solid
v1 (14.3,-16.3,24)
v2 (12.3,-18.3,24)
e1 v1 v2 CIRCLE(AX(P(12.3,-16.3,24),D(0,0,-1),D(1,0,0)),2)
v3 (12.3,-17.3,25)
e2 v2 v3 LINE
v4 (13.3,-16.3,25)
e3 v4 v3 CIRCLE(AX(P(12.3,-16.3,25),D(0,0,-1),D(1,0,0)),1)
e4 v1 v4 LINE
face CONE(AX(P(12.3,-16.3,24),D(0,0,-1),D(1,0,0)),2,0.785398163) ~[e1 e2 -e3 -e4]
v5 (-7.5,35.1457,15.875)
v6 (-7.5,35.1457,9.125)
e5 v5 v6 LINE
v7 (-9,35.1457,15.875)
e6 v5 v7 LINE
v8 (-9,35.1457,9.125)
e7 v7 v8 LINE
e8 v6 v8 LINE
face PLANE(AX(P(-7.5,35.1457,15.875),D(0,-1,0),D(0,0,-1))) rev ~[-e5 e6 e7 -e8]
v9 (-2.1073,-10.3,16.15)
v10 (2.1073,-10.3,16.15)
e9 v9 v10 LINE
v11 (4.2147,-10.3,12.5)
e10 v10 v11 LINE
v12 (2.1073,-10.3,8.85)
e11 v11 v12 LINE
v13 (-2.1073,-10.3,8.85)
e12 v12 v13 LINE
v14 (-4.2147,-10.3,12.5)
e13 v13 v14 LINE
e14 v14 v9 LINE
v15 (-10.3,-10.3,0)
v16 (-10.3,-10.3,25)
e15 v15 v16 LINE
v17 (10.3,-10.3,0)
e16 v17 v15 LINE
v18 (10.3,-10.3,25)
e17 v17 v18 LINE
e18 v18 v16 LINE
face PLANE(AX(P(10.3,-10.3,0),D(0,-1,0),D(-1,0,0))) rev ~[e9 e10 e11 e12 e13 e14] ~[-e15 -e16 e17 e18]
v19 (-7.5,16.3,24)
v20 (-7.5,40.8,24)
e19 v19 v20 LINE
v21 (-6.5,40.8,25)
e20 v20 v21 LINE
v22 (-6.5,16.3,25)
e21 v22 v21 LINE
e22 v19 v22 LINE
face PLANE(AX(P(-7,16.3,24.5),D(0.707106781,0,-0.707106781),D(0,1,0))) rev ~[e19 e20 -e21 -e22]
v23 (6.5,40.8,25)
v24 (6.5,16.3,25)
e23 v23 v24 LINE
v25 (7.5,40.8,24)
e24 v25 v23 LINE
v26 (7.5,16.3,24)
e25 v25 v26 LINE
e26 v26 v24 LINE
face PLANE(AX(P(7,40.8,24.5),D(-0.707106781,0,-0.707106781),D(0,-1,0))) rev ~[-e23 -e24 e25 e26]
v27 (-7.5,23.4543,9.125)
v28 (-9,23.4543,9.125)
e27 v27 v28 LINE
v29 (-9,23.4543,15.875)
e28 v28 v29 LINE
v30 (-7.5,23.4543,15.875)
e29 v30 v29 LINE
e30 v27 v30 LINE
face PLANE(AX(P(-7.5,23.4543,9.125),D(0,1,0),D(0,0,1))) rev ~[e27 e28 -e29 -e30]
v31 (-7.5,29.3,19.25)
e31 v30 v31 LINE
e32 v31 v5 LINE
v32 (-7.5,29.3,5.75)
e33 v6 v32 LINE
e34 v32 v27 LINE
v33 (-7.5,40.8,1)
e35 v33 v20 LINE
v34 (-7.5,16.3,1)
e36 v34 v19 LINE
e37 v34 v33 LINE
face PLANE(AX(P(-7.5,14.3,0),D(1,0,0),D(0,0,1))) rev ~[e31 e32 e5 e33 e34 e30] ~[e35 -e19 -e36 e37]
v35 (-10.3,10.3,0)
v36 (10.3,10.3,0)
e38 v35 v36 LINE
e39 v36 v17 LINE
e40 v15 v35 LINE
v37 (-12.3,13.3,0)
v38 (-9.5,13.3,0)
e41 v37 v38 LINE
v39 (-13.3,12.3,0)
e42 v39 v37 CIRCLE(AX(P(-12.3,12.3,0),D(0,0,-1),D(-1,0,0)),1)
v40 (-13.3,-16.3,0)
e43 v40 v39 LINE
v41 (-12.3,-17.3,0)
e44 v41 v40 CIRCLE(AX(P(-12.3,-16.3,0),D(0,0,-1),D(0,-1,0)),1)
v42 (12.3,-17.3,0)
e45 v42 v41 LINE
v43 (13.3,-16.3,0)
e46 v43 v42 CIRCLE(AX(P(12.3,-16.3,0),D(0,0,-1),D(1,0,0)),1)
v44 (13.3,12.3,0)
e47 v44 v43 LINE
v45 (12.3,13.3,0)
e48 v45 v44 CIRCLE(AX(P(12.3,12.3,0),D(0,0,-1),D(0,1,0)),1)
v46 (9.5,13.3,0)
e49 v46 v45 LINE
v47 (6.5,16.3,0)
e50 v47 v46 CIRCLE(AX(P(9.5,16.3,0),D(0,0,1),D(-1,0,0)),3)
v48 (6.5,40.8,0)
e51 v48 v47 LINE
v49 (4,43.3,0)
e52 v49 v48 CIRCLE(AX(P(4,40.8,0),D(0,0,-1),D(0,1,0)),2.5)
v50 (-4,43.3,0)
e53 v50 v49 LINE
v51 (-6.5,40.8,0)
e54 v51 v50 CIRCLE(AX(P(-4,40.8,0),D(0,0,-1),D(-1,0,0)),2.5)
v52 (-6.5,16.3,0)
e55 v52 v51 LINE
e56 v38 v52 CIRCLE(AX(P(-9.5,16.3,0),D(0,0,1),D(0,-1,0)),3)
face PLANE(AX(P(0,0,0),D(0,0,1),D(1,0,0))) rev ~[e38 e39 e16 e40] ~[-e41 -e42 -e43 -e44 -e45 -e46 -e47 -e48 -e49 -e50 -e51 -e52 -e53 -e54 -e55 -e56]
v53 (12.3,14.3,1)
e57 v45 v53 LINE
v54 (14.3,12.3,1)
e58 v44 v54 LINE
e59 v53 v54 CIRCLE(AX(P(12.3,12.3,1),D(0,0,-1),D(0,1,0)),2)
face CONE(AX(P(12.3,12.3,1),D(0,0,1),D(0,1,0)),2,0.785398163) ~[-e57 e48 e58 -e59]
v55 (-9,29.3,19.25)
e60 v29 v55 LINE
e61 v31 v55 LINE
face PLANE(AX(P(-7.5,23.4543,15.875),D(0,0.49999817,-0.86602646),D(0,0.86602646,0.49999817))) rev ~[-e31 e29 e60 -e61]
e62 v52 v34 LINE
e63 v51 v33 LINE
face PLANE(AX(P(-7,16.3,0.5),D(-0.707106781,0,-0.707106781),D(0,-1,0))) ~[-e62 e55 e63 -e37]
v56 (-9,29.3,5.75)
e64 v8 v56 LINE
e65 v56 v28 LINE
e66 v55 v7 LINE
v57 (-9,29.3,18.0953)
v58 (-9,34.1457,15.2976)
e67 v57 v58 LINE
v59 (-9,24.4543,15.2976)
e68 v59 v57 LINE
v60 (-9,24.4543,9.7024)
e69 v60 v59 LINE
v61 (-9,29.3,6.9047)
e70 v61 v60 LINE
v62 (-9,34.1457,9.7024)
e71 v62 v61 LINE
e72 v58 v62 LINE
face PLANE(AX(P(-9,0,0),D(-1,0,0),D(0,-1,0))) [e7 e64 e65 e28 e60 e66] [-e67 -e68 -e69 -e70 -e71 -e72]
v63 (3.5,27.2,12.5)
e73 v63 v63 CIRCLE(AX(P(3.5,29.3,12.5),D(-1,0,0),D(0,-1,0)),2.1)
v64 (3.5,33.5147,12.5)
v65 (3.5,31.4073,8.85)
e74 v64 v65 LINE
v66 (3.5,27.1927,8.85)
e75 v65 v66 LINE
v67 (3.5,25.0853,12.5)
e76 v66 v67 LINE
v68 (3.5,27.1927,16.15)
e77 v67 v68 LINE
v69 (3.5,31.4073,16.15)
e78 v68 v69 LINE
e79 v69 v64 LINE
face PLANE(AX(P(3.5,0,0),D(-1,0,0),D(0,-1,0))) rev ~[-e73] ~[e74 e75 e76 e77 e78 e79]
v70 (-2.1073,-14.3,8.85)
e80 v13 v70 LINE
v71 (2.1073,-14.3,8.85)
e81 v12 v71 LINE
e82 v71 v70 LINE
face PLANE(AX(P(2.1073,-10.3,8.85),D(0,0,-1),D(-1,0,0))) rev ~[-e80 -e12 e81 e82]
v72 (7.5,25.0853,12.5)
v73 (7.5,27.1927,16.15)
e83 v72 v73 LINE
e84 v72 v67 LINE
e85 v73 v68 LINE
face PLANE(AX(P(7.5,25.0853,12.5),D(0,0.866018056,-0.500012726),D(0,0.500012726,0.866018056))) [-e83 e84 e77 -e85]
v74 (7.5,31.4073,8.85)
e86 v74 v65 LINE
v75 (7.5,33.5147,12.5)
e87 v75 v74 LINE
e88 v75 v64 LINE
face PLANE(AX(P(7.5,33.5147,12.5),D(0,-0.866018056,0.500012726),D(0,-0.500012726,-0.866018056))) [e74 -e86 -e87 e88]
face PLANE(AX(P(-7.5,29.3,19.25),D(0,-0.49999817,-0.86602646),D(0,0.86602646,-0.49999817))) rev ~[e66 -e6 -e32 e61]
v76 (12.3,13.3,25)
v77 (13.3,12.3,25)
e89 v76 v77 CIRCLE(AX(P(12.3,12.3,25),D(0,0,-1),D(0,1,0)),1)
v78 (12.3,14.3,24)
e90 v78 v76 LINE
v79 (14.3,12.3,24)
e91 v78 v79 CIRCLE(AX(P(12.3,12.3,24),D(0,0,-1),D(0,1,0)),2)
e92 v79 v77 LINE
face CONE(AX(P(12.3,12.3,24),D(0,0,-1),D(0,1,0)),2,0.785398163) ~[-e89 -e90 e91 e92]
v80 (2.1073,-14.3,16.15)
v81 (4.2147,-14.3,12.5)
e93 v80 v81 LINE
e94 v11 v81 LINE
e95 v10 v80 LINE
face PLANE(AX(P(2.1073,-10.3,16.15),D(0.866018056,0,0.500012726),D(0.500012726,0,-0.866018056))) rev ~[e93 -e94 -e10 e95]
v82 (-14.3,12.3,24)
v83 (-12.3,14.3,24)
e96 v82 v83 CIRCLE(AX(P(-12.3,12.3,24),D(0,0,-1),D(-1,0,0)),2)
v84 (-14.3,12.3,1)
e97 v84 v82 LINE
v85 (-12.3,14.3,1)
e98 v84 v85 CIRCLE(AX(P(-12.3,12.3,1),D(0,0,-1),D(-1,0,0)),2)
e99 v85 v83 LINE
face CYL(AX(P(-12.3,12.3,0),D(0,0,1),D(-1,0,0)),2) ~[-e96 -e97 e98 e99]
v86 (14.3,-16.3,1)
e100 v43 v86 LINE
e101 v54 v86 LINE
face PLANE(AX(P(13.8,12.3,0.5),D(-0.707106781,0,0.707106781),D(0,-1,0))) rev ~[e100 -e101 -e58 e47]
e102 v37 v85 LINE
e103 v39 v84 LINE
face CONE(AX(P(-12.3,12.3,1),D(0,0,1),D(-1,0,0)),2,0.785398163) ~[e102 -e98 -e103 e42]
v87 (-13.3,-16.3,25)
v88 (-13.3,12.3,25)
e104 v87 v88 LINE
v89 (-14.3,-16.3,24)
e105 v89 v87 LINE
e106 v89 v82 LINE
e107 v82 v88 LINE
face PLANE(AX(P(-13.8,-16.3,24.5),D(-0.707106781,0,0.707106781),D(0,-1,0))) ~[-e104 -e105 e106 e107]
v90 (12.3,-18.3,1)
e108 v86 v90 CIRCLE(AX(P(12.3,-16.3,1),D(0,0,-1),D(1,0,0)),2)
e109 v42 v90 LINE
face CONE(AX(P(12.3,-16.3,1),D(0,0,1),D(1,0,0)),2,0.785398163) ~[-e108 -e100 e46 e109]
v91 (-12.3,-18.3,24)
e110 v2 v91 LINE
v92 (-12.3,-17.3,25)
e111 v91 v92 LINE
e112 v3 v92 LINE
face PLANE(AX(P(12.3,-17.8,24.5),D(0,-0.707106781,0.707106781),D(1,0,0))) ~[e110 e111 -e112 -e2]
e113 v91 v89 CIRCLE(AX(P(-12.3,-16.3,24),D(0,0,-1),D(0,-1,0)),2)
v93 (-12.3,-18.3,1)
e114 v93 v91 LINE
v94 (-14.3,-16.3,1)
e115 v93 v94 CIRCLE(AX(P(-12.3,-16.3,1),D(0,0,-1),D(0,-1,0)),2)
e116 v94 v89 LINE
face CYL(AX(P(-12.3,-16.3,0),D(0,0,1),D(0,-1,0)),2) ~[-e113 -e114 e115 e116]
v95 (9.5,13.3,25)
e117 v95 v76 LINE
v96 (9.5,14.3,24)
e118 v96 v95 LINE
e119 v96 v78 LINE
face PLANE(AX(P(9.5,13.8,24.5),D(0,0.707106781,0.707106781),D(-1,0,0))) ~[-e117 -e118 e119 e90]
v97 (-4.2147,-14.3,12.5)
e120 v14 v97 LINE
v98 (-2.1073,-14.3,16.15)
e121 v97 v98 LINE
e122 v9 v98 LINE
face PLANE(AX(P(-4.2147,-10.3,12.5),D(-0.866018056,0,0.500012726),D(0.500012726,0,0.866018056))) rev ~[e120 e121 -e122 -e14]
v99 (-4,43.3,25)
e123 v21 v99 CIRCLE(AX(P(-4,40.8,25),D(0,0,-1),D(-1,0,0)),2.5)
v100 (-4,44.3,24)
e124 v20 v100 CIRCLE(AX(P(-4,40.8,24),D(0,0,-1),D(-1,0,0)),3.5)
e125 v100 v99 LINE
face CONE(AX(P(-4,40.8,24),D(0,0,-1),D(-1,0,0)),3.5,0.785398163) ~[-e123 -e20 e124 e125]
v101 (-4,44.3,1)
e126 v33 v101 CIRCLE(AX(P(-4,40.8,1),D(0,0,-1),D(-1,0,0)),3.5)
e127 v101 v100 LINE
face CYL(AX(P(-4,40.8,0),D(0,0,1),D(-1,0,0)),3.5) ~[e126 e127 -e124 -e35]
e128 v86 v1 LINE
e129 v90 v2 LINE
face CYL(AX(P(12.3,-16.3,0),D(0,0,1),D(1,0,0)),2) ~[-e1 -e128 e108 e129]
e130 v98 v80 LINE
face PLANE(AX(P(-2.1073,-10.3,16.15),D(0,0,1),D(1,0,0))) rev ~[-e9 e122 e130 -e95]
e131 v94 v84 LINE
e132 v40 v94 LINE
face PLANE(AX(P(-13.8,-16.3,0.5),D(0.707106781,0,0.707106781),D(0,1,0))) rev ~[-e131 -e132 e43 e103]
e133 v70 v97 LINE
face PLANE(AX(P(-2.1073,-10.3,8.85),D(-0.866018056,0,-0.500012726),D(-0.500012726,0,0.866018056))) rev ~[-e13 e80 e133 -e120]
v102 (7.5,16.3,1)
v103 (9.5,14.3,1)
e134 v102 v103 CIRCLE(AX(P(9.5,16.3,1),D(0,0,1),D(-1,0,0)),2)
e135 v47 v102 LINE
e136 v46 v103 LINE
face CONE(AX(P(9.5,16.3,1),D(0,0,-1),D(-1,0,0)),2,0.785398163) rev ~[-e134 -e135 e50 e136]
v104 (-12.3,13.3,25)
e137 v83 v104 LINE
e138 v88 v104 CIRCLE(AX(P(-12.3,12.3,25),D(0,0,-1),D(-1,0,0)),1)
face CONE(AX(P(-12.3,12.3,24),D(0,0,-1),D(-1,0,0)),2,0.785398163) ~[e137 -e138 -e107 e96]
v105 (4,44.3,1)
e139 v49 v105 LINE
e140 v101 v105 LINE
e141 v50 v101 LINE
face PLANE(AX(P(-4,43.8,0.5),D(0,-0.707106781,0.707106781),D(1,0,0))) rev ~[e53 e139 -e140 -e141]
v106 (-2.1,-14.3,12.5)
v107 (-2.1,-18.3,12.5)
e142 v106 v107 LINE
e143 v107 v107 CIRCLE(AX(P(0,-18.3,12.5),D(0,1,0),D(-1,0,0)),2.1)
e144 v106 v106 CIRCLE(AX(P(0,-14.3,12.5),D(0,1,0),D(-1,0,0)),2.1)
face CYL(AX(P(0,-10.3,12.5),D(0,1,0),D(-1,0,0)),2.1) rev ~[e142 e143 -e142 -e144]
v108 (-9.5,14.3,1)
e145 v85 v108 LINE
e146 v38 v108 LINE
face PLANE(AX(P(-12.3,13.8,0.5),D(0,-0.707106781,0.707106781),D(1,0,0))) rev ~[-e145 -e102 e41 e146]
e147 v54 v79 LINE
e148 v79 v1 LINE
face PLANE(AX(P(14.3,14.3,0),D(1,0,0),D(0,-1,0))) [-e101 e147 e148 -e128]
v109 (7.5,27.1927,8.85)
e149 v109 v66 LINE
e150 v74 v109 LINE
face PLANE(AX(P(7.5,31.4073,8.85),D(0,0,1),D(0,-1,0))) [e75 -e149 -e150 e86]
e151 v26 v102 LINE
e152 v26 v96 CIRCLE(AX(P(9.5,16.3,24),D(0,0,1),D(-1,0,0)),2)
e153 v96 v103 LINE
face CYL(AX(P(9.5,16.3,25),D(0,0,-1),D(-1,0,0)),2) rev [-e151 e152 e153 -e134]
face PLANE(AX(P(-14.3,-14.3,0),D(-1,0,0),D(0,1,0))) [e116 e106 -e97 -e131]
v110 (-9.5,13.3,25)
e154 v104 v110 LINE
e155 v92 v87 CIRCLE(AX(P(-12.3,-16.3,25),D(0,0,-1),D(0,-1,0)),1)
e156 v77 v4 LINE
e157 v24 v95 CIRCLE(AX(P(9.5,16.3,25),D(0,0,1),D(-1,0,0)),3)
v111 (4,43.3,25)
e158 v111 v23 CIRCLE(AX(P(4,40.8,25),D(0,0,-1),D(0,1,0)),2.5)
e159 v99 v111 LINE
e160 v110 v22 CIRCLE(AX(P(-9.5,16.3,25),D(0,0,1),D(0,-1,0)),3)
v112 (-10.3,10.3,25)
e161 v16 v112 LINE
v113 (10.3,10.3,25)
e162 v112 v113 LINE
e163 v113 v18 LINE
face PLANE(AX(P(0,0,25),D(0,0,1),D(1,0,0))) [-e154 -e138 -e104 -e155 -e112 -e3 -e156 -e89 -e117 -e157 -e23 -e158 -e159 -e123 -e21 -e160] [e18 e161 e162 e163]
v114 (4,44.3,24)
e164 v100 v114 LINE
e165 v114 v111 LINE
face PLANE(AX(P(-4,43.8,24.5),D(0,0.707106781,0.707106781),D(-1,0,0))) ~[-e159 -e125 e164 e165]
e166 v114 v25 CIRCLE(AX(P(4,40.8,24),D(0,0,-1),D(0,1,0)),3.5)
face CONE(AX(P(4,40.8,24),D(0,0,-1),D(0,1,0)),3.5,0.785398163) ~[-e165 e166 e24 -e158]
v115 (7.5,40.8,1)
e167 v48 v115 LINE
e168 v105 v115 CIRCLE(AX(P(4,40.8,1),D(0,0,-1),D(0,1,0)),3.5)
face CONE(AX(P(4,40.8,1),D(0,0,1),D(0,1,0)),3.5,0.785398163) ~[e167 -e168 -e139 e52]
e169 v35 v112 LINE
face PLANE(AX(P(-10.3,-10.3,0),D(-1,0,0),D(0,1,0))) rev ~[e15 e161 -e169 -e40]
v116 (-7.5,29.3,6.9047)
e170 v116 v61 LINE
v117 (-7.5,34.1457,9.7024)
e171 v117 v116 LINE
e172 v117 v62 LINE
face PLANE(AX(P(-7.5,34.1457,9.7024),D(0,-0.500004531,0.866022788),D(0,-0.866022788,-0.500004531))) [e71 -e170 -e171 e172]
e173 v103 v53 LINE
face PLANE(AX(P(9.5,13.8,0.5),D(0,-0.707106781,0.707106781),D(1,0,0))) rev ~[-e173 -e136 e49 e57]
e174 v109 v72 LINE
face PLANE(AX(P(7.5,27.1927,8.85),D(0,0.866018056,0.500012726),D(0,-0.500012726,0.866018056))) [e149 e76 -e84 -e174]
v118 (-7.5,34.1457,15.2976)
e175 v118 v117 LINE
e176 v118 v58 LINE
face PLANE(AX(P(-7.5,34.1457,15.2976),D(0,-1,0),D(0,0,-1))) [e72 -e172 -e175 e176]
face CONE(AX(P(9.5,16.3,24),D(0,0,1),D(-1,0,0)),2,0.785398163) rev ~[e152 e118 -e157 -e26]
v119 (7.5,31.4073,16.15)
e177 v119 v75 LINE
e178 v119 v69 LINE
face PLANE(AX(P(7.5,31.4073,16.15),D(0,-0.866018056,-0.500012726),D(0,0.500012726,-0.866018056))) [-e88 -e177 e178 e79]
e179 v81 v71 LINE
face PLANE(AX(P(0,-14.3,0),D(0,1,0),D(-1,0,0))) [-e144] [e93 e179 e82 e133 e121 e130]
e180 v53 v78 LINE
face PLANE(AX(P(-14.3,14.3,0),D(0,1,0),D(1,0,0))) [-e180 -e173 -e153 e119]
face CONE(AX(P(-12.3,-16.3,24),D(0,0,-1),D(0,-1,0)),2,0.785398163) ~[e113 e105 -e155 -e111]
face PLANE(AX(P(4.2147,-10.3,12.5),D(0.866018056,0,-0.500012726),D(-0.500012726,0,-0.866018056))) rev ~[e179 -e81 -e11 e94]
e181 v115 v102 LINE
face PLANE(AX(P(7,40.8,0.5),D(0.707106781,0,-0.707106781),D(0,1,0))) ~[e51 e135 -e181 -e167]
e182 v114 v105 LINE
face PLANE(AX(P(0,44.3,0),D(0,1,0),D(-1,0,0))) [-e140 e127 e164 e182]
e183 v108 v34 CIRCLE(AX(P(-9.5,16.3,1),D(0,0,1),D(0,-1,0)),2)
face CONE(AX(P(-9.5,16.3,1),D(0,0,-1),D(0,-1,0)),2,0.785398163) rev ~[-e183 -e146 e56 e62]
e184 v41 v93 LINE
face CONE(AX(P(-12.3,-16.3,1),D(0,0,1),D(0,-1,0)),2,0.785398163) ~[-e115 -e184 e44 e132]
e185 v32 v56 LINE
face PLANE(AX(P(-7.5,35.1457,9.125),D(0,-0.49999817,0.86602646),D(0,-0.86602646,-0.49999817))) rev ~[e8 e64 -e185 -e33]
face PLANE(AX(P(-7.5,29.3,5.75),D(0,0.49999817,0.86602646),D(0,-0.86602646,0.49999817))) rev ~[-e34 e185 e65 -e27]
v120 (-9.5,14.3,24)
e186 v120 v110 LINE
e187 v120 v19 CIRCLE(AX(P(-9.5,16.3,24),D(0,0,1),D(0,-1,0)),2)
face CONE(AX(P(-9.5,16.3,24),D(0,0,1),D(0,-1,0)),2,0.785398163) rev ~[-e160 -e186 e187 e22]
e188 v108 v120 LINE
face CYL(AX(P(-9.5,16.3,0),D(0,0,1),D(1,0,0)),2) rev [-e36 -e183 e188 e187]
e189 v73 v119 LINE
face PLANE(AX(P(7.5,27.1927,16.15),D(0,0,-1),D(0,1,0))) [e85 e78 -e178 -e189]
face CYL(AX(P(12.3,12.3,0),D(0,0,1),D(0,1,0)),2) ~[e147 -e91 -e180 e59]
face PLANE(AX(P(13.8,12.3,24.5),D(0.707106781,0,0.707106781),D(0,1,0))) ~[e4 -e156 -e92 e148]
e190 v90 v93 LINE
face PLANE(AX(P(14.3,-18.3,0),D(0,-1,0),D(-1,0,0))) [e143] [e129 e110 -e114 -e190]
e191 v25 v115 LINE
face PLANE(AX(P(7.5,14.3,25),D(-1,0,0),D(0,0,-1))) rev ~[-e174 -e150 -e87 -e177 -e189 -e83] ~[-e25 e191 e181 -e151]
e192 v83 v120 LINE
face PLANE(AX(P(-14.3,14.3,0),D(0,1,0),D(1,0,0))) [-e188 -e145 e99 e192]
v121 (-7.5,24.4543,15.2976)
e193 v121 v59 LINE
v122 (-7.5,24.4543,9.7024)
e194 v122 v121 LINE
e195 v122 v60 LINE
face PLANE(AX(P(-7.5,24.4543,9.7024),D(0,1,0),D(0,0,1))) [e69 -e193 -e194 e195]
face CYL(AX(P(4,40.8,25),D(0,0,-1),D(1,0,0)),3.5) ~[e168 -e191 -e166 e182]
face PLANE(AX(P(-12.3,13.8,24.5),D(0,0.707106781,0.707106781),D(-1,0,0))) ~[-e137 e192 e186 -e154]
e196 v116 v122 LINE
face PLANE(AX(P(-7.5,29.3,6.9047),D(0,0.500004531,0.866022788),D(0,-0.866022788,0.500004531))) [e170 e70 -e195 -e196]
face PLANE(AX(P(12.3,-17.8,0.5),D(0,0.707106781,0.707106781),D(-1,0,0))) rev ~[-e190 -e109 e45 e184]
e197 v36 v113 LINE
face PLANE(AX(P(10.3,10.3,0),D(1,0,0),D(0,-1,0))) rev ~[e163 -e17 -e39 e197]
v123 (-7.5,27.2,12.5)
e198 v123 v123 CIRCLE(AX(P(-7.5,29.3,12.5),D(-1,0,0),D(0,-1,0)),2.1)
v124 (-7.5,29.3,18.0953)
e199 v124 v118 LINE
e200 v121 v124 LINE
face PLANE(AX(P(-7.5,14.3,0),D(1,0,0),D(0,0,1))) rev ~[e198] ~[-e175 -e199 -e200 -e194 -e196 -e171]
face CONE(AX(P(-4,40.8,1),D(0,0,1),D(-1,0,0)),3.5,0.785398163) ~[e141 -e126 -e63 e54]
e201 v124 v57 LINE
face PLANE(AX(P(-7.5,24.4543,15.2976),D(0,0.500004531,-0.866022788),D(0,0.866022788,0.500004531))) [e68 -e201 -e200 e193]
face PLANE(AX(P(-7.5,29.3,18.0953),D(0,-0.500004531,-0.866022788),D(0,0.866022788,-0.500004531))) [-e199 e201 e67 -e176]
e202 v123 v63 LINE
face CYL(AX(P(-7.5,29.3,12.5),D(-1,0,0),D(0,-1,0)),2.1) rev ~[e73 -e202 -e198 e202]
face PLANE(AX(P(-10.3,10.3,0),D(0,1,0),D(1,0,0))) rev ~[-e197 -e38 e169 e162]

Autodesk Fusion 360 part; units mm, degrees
sketch "Sketch1" plane through (0, 0, 0) normal (0, 0, 1) x (1, 0, 0)
  line L0 (10, -10) -> (-10, -10)
  line L1 (-10, -10) -> (-10, 10)
  line L2 (-10, 10) -> (10, 10)
  line L3 (10, 10) -> (10, -10)
  line L4 (10, -10) -> (-10, 10) construction
  line L5 (-10, -10) -> (10, 10) construction
  line L6 (10.3, -10.3) -> (-10.3, -10.3)
  line L7 (-10.3, -10.3) -> (-10.3, 10.3)
  line L8 (-10.3, 10.3) -> (10.3, 10.3)
  line L9 (10.3, 10.3) -> (10.3, -10.3)
  line L10 (-14.3, -14.3) -> (-14.3, 14.3)
  line L11 (-14.3, 14.3) -> (14.3, 14.3)
  line L12 (14.3, 14.3) -> (14.3, -14.3)
  line L13 (14.3, -14.3) -> (-14.3, -14.3)
  line L14 (-14.3, -14.3) -> (14.3, -14.3)
  line L15 (14.3, -14.3) -> (14.3, -18.3)
  line L16 (14.3, -18.3) -> (-14.3, -18.3)
  line L17 (-14.3, -18.3) -> (-14.3, -14.3)
  dimension "d1" = 20
  dimension "d2" = 20
  dimension "d3" = -0.3
  dimension "d4" = -4.3
  dimension "d10" = 28.6
  dimension "d11" = 4
extrude "Extrude1" add sketch "Sketch1" along normal blind 25 contours L10 L11 L12 L13 L14 | L13 L14 L15 L16 L17
sketch "Sketch3" plane through (0, -10.3, 0) normal (0, 1, 0) x (-1, 0, 0)
  line L0 (-10.3, 0) -> (10.3, 0)
  line L1 (10.3, 0) -> (10.3, 25)
  line L2 (10.3, 25) -> (-10.3, 25)
  line L3 (-10.3, 25) -> (-10.3, 0)
  line L4 (-10.3, 25) -> (10.3, 25)
  line L5 (10.3, 25) -> (10.3, 0)
  line L6 (10.3, 0) -> (-10.3, 0)
  line L7 (-10.3, 0) -> (-10.3, 25)
  line L8 (-10.3, 25) -> (10.3, 0) construction
  line L9 (10.3, 25) -> (-10.3, 0) construction
  line L10 (2.1073, 8.85) -> (4.2147, 12.5)
  line L11 (4.2147, 12.5) -> (2.1073, 16.15)
  line L12 (2.1073, 16.15) -> (-2.1073, 16.15)
  line L13 (-2.1073, 16.15) -> (-4.2147, 12.5)
  line L14 (-4.2147, 12.5) -> (-2.1073, 8.85)
  line L15 (-2.1073, 8.85) -> (2.1073, 8.85)
  circle A0 centre (0, 12.5) radius 2.1
  point P0 (0, 12.5)
  dimension "d12" = 25
  dimension "d13" = 3.65
  dimension "d16" = 4.2
extrude "Extrude4" cut sketch "Sketch3" against normal blind 8 contours A0
extrude "Extrude3" cut sketch "Sketch3" against normal blind 4 contours L10 L11 L12 L13 L14 L15 | A0
sketch "Sketch6" plane through (0, 14.3, 0) normal (0, 1, 0) x (-1, 0, 0)
  line L0 (-14.3, 0) -> (14.3, 0)
  line L1 (14.3, 0) -> (14.3, 25)
  line L2 (14.3, 25) -> (-14.3, 25)
  line L3 (-14.3, 25) -> (-14.3, 0)
  line L4 (-14.3, 25) -> (14.3, 0) construction
  line L5 (14.3, 25) -> (-14.3, 0) construction
  line L6 (7.5, 25) -> (-7.5, 25)
  line L7 (-7.5, 25) -> (-7.5, 0)
  line L8 (-7.5, 0) -> (7.5, 0)
  line L9 (7.5, 0) -> (7.5, 25)
  line L10 (7.5, 25) -> (-7.5, 0) construction
  line L11 (-7.5, 25) -> (7.5, 0) construction
  point P0 (0, 12.5)
  dimension "d35" = 15
  dimension "d36" = 25
extrude "Extrude10" add sketch "Sketch6" along normal blind 30 contours L0 L2 L6 L7 L8 L9
sketch "Sketch7" plane through (-7.5, 0, 0) normal (-1, 0, 0) x (0, -1, 0)
  line L0 (-14.3, 0) -> (-14.3, 25)
  line L1 (-14.3, 25) -> (-44.3, 25)
  line L2 (-44.3, 25) -> (-44.3, 0)
  line L3 (-44.3, 0) -> (-14.3, 0)
  line L4 (-14.3, 25) -> (-44.3, 0) construction
  line L5 (-44.3, 25) -> (-14.3, 0) construction
  circle A0 centre (-29.3, 12.5) radius 2.1
  line L6 (-27.1927, 8.85) -> (-25.0853, 12.5)
  line L7 (-25.0853, 12.5) -> (-27.1927, 16.15)
  line L8 (-27.1927, 16.15) -> (-31.4073, 16.15)
  line L9 (-31.4073, 16.15) -> (-33.5147, 12.5)
  line L10 (-33.5147, 12.5) -> (-31.4073, 8.85)
  line L11 (-31.4073, 8.85) -> (-27.1927, 8.85)
  line L12 (-29.3, 5.75) -> (-23.4543, 9.125)
  line L13 (-23.4543, 9.125) -> (-23.4543, 15.875)
  line L14 (-23.4543, 15.875) -> (-29.3, 19.25)
  line L15 (-29.3, 19.25) -> (-35.1457, 15.875)
  line L16 (-35.1457, 15.875) -> (-35.1457, 9.125)
  line L17 (-35.1457, 9.125) -> (-29.3, 5.75)
  line L18 (-24.4543, 15.2976) -> (-29.3, 18.0953)
  line L19 (-29.3, 18.0953) -> (-34.1457, 15.2976)
  line L20 (-34.1457, 15.2976) -> (-34.1457, 9.7024)
  line L21 (-34.1457, 9.7024) -> (-29.3, 6.9047)
  line L22 (-29.3, 6.9047) -> (-24.4543, 9.7024)
  line L23 (-24.4543, 9.7024) -> (-24.4543, 15.2976)
  point P0 (-29.3, 12.5)
  point P1 (-29.3, 12.5)
  point P2 (-29.3, 12.5)
  dimension "d43" = 4.2
  dimension "d50" = 3.65
  dimension "d54" = 6.75
  dimension "d55" = -1
extrude "Extrude13" cut sketch "Sketch7" along normal blind 4 from surface at -15 contours L6 L7 L8 L9 L10 L11
extrude "Extrude12" cut sketch "Sketch7" against normal blind 15 contours A0
extrude "Extrude11" add sketch "Sketch7" along normal blind 1.5 contours L12 L13 L14 L15 L16 L17
fillet "Fillet1" radius 3.5 2 edges at (-7.5, 44.3, 12.5) (7.5, 44.3, 12.5)
fillet "Fillet2" radius 2 2 edges at (-7.5, 14.3, 12.5) (7.5, 14.3, 12.5)
fillet "Fillet3" radius 2 4 edges at (-14.3, 14.3, 12.5) (-14.3, -18.3, 12.5) (14.3, -18.3, 12.5) (14.3, 14.3, 12.5)
chamfer "Chamfer1" distance 1 angle 45 32 edges at (-13.7142, -17.7142, 25) (0, -18.3, 25) (13.7142, -17.7142, 25) (14.3, -2, 25) (13.7142, 13.7142, 25) (10.9, 14.3, 25) (8.0858, 14.8858, 25) (7.5, 28.55, 25) (6.4749, 43.2749, 25) (0, 44.3, 25) (-6.4749, 43.2749, 25) (-7.5, 28.55, 25) (-8.0858, 14.8858, 25) (-10.9, 14.3, 25) (-13.7142, 13.7142, 25) (-14.3, -2, 25) (-13.7142, 13.7142, 0) (-10.9, 14.3, 0) (-8.0858, 14.8858, 0) (-7.5, 28.55, 0) (-6.4749, 43.2749, 0) (0, 44.3, 0) (6.4749, 43.2749, 0) (7.5, 28.55, 0) (8.0858, 14.8858, 0) (10.9, 14.3, 0) (13.7142, 13.7142, 0) (14.3, -2, 0) (13.7142, -17.7142, 0) (0, -18.3, 0) (-13.7142, -17.7142, 0) (-14.3, -2, 0)
equation "d35 = 28.6 mm - 4 mm - 4 mm - 0.6 mm - 5 mm"
equation "d54 = ( 13.5 / 2 ) * 1 mm"
